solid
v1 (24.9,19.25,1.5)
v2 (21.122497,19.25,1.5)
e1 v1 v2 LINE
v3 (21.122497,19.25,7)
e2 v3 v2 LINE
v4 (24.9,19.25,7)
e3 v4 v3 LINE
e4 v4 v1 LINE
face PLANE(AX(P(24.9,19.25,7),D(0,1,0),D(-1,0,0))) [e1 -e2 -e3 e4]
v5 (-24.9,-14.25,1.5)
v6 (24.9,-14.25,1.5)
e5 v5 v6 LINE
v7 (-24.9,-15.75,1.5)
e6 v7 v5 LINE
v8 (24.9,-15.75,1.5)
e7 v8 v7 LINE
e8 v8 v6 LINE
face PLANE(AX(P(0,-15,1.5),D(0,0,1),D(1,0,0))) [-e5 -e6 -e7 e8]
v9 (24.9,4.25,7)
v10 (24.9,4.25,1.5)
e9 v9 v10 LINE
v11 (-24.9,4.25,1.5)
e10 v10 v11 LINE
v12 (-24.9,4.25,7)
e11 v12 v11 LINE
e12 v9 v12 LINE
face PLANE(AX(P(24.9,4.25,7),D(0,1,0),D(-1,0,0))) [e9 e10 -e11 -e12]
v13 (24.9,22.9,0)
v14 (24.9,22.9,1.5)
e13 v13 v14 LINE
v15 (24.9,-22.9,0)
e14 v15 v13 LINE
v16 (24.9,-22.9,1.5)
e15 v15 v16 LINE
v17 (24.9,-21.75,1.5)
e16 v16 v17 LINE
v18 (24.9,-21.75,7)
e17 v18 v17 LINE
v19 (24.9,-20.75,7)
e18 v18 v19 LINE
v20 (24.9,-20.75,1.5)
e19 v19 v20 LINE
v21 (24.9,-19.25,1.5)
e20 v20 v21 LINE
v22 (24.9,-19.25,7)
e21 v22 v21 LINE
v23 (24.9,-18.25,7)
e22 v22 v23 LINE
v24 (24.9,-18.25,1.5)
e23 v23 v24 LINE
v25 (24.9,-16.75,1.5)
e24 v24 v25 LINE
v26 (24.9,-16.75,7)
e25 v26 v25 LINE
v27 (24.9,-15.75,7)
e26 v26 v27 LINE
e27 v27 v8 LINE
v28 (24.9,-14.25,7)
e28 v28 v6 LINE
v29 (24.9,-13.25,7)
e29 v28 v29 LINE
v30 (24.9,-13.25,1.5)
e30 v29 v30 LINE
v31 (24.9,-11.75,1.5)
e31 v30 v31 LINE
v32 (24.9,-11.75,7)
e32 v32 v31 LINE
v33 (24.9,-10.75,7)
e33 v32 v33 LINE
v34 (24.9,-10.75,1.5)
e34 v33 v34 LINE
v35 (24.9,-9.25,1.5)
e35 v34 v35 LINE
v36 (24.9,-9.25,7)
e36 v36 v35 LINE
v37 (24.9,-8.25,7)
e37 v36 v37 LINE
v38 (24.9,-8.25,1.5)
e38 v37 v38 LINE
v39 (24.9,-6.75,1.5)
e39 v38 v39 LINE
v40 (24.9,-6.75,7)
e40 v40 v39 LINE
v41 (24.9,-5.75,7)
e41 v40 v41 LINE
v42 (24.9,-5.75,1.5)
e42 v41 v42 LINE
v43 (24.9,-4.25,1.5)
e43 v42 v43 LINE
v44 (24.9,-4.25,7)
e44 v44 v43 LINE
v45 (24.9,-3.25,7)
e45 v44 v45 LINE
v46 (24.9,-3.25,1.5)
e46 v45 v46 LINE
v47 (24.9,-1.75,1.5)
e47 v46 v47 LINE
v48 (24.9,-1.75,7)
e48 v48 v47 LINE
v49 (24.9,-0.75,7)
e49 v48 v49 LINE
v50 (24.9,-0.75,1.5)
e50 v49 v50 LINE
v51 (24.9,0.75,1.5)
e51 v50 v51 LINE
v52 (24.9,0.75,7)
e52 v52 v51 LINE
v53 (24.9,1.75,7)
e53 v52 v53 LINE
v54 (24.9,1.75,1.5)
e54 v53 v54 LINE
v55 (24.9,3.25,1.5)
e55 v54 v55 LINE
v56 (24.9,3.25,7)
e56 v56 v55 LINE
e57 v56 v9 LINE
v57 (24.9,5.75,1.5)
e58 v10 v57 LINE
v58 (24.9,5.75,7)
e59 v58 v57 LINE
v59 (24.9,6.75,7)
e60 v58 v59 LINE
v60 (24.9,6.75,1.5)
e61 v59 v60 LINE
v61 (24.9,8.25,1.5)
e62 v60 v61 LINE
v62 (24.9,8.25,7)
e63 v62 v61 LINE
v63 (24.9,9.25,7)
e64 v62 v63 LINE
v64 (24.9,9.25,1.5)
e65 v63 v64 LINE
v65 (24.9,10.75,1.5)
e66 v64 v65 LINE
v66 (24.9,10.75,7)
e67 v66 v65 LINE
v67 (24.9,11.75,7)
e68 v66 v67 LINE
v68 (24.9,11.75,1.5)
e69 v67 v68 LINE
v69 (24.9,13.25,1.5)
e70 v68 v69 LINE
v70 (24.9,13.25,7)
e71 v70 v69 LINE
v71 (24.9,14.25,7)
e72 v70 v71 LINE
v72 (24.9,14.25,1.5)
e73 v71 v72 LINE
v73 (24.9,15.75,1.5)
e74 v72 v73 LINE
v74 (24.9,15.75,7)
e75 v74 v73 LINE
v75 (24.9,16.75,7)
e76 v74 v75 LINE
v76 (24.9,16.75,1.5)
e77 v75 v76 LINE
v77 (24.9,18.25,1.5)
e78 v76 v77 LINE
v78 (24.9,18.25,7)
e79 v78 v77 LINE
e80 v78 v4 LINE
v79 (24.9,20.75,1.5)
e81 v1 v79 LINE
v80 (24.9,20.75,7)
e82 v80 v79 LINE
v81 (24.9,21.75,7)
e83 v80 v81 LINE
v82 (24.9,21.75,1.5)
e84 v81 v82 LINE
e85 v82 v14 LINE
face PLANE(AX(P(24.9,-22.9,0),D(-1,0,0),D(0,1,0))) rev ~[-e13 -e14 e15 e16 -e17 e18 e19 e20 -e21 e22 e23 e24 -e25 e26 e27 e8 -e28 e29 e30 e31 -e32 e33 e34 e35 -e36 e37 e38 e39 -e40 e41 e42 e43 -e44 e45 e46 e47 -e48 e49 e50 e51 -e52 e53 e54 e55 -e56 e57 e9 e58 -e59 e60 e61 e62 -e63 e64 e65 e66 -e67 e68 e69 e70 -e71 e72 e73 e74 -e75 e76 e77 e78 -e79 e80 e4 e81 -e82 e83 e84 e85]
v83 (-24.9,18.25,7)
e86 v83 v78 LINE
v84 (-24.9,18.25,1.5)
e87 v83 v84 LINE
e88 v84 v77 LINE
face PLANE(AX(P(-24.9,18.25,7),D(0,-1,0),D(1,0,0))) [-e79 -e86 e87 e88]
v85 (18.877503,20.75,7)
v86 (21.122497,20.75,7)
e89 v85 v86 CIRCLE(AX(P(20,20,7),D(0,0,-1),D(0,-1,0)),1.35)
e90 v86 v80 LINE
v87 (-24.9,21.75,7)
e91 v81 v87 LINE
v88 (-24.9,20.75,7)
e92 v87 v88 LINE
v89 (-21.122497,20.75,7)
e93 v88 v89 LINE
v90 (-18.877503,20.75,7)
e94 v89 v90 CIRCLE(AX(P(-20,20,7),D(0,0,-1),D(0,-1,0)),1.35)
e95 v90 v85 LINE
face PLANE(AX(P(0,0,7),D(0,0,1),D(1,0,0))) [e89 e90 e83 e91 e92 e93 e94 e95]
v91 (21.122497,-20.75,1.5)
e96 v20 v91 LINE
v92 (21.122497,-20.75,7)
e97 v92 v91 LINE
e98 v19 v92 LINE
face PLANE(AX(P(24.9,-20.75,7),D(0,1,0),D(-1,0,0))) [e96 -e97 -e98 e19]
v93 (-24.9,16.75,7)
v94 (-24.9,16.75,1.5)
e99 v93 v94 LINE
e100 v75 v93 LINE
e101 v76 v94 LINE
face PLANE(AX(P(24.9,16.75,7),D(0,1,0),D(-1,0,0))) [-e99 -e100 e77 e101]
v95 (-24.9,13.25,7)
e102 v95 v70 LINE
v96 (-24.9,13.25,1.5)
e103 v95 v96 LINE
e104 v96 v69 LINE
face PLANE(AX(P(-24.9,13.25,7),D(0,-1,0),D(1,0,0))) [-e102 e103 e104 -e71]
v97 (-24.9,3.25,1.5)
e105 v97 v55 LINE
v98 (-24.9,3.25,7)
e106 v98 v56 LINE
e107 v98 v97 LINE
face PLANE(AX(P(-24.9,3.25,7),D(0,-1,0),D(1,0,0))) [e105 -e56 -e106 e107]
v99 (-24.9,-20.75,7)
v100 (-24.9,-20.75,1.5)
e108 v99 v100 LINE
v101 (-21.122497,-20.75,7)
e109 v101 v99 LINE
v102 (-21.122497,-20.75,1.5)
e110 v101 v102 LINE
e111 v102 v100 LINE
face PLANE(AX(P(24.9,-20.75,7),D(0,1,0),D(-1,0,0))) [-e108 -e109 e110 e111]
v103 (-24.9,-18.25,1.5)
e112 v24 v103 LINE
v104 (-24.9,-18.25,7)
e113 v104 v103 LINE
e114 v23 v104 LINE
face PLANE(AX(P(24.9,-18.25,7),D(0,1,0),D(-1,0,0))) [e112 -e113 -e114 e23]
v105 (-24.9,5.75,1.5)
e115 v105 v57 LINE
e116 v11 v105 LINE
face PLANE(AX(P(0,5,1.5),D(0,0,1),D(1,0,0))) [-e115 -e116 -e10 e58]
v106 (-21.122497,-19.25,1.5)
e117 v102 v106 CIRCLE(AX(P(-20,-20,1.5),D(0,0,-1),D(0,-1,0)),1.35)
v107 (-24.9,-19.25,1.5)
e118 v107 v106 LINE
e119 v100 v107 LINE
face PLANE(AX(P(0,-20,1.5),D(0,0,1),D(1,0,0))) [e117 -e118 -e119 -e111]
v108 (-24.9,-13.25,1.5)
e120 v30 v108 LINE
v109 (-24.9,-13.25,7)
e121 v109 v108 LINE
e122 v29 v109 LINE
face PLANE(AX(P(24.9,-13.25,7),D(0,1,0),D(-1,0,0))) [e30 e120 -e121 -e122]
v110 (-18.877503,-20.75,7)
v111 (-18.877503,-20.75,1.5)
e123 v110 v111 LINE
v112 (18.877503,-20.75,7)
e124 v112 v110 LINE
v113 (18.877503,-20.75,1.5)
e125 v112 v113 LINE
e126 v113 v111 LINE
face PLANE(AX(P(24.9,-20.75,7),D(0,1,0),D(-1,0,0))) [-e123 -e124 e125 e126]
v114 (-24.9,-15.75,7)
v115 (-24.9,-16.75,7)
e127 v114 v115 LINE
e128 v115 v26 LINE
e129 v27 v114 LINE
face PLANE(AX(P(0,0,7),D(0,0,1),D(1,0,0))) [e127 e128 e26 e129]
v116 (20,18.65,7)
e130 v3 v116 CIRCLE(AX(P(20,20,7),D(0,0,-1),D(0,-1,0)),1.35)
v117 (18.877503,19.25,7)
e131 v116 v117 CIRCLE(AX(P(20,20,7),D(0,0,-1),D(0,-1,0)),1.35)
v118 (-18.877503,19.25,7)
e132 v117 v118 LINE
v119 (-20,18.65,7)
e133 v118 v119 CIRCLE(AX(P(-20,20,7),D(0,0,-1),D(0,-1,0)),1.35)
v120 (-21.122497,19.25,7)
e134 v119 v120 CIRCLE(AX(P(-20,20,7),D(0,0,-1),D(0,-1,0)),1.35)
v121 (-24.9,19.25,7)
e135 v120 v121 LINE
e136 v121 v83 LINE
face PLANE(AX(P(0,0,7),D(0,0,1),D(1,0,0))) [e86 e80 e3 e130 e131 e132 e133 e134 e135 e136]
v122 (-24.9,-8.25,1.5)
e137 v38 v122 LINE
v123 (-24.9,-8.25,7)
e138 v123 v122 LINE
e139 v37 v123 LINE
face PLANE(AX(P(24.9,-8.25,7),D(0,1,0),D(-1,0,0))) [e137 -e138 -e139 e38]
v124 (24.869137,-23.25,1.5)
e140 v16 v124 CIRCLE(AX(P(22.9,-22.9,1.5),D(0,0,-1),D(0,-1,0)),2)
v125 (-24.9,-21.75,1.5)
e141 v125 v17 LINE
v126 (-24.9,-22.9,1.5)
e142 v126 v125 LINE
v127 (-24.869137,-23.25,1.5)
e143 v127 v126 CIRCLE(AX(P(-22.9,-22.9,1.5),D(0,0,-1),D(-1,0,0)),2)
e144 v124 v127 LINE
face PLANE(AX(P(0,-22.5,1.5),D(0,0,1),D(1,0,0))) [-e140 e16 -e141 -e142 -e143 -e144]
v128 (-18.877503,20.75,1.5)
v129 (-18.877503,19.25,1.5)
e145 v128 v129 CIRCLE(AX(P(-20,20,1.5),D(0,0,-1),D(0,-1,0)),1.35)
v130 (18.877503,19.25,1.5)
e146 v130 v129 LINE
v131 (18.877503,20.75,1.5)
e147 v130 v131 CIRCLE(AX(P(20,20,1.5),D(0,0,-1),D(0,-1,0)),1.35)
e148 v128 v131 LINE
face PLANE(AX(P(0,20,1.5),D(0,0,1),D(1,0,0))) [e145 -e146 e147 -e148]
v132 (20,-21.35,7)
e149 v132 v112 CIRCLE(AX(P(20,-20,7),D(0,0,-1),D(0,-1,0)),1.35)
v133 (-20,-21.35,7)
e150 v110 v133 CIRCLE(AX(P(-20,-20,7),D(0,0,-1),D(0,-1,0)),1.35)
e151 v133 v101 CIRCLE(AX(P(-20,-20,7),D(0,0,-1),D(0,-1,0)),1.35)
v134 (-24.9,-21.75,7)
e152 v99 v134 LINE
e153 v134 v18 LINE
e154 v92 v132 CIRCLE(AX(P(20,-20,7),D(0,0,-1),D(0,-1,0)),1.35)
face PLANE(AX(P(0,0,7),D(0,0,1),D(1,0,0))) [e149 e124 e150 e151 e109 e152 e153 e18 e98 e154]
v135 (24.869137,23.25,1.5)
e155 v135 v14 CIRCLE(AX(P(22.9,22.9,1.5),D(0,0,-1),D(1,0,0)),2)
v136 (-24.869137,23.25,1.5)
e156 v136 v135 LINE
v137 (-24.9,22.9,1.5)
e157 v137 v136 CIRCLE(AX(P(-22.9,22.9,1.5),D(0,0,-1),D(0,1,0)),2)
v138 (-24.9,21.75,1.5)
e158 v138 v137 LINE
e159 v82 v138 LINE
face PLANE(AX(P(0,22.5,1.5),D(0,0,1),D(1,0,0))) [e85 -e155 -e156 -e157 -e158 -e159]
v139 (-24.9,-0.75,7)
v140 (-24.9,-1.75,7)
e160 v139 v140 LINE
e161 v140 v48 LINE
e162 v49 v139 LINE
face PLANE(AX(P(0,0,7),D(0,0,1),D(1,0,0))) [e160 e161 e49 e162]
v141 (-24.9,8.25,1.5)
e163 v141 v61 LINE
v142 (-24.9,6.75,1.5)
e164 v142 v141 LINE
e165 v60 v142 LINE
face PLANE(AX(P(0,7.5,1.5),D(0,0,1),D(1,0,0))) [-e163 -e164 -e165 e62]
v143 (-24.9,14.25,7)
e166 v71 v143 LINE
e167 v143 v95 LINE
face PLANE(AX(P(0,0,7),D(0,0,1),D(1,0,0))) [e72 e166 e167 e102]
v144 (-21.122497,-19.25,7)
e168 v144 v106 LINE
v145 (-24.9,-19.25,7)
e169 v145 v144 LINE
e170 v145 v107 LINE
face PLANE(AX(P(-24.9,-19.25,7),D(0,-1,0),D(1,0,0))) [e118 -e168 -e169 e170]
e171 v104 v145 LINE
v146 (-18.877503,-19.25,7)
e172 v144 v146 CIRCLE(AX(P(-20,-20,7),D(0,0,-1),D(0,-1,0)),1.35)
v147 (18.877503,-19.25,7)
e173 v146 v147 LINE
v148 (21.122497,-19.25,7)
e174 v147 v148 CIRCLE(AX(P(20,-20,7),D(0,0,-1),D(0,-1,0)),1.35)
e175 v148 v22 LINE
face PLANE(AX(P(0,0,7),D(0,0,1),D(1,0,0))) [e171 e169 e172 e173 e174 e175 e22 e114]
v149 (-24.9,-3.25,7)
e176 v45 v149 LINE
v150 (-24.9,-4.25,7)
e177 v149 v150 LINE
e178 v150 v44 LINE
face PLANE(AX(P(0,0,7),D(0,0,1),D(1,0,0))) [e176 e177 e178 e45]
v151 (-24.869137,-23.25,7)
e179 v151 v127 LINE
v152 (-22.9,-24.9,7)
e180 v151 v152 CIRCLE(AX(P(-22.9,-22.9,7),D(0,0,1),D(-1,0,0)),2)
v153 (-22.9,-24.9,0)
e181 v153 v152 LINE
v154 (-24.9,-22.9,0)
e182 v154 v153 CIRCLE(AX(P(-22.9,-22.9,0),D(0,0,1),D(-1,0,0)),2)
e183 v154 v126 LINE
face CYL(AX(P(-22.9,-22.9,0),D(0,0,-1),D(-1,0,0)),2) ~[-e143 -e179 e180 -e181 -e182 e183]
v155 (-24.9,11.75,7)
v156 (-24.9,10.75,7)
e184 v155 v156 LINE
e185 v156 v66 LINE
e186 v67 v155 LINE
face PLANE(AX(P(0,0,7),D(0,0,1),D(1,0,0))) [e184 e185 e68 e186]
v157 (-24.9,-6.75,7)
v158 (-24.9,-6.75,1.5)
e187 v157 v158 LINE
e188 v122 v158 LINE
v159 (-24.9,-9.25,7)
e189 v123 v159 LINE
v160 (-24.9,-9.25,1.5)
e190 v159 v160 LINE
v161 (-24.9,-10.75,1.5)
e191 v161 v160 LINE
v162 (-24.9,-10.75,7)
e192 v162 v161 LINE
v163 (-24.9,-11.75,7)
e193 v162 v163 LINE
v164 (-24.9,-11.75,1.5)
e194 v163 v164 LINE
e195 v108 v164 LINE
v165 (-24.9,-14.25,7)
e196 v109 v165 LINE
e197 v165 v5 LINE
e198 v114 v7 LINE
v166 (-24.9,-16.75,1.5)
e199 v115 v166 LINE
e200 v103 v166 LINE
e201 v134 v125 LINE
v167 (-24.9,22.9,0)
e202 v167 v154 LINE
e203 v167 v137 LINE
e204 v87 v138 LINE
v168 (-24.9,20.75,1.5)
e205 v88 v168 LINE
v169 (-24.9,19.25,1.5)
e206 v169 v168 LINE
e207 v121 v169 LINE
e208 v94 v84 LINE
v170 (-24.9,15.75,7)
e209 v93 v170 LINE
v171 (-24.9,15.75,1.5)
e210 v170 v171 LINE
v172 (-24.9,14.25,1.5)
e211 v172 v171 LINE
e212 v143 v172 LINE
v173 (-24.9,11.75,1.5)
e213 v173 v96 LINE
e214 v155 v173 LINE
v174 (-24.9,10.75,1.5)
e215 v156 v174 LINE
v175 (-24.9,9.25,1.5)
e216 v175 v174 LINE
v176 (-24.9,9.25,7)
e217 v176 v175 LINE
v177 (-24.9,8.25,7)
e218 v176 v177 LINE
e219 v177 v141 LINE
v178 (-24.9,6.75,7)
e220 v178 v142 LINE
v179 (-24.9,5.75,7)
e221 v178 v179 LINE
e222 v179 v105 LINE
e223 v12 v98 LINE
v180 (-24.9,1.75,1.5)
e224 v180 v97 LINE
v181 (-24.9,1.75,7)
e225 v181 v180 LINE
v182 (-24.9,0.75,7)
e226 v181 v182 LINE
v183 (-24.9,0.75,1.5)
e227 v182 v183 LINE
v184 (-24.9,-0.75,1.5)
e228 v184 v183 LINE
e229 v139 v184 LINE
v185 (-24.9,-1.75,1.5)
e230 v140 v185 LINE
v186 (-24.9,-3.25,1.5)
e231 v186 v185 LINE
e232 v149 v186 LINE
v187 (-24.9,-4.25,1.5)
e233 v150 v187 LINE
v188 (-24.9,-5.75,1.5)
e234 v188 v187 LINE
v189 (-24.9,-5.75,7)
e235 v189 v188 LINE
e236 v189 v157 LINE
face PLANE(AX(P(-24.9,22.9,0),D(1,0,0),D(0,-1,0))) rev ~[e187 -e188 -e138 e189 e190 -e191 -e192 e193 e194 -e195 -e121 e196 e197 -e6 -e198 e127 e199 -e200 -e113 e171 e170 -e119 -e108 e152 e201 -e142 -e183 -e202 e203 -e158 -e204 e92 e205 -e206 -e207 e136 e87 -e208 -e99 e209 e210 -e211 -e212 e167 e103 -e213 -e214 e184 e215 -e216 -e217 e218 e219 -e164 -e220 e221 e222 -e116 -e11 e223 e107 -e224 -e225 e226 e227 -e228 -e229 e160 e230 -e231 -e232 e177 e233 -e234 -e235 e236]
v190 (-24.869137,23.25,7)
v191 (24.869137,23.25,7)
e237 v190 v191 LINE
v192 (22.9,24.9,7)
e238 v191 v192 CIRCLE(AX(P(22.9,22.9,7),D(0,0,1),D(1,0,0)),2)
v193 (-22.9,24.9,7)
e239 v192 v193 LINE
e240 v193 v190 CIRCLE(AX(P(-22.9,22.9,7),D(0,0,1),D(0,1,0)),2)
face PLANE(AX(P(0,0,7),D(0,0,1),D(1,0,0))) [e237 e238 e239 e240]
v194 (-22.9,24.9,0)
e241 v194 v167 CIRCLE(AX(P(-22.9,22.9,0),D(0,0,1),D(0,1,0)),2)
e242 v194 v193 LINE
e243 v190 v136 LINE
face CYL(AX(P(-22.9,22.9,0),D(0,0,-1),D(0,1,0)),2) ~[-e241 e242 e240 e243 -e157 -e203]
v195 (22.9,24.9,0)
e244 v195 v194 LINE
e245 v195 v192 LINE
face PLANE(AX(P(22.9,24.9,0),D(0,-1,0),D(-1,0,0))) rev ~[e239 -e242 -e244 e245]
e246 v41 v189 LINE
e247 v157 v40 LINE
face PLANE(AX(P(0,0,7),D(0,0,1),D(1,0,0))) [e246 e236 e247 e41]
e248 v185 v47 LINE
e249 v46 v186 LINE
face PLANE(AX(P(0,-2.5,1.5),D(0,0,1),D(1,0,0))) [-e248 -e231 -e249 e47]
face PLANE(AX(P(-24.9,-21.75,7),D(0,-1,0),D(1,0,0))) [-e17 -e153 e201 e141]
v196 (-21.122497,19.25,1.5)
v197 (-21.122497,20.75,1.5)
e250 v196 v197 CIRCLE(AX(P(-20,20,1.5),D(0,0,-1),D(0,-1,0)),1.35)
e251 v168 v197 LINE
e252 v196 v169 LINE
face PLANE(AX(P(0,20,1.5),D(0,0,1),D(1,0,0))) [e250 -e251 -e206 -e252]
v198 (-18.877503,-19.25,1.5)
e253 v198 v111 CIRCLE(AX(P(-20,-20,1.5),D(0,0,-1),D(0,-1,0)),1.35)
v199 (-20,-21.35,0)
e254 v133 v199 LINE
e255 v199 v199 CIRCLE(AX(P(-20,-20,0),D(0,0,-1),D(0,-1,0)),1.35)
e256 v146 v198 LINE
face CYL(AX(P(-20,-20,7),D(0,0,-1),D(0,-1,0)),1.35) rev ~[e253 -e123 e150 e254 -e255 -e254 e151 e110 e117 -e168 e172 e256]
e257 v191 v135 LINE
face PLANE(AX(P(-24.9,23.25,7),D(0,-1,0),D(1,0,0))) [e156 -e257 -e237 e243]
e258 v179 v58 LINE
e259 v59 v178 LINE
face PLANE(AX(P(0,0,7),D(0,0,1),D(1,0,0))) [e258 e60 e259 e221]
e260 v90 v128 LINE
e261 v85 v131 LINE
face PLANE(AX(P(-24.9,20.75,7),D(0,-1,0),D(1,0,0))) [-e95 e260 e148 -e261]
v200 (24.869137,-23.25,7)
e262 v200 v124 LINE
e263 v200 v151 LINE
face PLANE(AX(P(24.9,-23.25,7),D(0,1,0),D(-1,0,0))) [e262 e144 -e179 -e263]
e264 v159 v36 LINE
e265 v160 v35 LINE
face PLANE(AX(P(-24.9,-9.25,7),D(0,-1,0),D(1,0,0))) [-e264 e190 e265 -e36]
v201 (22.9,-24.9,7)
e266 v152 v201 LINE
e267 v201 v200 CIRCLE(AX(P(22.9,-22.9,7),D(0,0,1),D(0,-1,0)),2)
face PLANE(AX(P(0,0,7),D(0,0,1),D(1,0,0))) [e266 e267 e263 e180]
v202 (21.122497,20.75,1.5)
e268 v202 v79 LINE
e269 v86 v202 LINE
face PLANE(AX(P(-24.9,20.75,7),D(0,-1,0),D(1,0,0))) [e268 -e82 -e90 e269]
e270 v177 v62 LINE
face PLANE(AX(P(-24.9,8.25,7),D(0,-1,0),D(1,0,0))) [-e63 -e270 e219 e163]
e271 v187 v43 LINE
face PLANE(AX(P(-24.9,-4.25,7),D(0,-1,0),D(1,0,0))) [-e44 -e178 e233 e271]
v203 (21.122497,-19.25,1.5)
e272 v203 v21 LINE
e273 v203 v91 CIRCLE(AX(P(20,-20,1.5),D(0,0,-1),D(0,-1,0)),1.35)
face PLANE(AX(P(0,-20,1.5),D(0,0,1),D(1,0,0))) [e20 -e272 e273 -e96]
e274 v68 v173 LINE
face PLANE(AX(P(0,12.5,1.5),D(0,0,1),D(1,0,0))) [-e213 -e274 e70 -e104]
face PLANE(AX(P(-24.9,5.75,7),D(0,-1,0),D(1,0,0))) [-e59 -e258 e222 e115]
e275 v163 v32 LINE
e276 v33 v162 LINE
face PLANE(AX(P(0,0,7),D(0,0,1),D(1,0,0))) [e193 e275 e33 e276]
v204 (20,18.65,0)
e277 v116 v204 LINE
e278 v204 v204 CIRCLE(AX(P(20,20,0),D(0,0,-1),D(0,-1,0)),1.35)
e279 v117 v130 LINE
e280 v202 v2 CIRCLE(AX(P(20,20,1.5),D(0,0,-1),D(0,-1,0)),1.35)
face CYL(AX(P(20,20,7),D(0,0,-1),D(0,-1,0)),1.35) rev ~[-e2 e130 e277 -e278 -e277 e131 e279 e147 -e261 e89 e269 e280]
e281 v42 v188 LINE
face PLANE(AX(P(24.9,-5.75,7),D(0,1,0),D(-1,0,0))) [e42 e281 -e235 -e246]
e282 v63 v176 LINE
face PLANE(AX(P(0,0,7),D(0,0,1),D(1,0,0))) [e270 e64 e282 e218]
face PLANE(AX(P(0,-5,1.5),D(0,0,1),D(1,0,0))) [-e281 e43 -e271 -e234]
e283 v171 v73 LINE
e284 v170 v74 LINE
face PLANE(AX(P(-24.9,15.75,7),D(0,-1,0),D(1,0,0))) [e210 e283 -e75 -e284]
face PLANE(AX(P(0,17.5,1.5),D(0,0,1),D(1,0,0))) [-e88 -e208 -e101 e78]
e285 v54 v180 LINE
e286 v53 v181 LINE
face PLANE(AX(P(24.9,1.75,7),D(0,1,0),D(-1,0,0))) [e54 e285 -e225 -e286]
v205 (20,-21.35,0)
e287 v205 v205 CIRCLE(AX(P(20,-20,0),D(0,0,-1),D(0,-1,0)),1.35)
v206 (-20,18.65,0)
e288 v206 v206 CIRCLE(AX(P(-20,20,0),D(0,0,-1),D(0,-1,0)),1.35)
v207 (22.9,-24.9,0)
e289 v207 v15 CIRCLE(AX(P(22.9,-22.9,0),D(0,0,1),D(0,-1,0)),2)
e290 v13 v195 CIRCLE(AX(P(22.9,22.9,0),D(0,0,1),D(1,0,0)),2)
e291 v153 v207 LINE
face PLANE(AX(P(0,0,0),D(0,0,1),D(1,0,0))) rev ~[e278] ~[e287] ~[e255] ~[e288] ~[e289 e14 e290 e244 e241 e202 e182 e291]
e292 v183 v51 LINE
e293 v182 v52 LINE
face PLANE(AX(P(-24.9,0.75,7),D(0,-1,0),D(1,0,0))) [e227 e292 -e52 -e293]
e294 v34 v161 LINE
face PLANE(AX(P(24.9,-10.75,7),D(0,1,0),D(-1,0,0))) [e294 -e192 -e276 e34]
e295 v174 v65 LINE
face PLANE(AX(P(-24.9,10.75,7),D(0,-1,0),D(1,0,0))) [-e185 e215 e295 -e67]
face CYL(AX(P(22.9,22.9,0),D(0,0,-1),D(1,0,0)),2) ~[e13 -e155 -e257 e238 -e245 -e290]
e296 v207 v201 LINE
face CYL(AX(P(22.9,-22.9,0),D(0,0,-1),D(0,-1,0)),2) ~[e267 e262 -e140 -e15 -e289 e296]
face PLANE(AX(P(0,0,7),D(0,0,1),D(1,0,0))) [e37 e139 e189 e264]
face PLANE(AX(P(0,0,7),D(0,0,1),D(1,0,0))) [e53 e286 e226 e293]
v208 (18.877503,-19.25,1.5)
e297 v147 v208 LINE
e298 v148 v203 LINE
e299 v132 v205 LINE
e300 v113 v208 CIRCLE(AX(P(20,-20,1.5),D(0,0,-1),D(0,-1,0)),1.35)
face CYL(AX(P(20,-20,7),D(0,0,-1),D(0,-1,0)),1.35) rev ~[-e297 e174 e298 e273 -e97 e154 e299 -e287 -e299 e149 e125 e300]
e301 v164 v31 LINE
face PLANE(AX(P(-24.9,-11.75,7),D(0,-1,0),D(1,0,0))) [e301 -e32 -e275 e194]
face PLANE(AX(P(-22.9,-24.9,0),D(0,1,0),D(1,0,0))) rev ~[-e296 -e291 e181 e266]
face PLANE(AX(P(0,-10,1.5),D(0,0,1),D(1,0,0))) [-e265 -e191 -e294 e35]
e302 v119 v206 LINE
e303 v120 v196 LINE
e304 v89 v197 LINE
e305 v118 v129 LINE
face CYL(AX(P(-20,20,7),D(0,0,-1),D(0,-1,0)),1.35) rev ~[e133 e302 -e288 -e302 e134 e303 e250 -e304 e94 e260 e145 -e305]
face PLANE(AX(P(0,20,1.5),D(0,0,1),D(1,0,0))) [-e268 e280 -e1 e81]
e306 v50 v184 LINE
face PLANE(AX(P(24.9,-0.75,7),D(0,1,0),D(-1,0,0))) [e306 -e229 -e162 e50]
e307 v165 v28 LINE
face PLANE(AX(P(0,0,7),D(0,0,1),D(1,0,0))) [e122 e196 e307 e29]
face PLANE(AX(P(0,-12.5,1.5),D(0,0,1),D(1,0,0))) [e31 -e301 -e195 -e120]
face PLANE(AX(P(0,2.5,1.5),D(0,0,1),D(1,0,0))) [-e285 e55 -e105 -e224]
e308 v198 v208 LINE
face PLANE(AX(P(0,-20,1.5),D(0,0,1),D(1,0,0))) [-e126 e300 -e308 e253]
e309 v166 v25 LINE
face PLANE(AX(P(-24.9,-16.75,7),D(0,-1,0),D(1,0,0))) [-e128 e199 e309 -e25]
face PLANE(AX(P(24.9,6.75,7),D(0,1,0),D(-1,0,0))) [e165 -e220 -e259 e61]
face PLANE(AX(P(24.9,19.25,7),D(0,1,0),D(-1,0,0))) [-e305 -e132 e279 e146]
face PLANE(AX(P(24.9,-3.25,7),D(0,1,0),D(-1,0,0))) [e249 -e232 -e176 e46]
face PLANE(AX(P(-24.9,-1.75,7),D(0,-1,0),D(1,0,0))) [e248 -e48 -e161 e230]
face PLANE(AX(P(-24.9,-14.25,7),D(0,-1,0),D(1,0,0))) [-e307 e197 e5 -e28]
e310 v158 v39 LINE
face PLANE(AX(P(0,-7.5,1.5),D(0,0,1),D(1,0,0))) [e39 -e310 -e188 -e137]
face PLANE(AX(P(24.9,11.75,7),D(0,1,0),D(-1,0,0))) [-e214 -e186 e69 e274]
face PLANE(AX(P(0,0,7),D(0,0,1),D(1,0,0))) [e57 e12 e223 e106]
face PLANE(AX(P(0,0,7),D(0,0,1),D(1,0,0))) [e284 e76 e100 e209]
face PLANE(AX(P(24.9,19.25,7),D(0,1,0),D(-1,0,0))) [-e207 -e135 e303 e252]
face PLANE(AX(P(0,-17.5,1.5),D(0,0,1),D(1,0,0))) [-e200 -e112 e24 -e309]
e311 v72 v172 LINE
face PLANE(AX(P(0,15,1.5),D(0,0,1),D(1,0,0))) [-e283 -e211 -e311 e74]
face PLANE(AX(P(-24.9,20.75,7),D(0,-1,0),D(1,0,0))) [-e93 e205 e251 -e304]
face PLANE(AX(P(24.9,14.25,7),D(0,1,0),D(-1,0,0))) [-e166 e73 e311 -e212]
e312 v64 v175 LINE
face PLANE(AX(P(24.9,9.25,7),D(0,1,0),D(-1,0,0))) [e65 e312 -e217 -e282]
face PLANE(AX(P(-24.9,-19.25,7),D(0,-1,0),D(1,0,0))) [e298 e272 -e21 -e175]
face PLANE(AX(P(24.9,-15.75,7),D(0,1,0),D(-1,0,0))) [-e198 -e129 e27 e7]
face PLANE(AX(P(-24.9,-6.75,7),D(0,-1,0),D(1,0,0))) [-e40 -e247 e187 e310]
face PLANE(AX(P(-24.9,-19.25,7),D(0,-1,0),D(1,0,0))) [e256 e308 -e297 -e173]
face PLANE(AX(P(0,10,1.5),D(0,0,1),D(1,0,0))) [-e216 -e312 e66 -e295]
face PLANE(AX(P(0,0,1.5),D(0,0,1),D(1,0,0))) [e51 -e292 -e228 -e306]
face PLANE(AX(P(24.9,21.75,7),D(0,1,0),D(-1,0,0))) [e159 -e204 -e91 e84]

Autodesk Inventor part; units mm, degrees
ref_plane "YZ Plane" through (0, 0, 0) normal (1, 0, 0) x (0, 1, 0)
ref_plane "XZ Plane" through (0, 0, 0) normal (0, 1, 0) x (-1, 0, 0)
ref_plane "XY Plane" through (0, 0, 0) normal (0, 0, 1) x (1, 0, 0)
ref_plane "Arbeitsebene1" through (0, 0, 0) normal (0, 0, 1) x (1, 0, 0)
sketch "Skizze1" plane through (0, 0, 0) normal (0, 0, 1) x (1, 0, 0)
  arc A0 (-22.9, 24.9) -> (-24.9, 22.9) centre (-22.9, 22.9) ccw projected
  line L0 (-24.9, 22.9) -> (-24.9, -22.9) projected
  arc A1 (-24.9, -22.9) -> (-22.9, -24.9) centre (-22.9, -22.9) ccw projected
  line L1 (-22.9, -24.9) -> (22.9, -24.9) projected
  arc A2 (22.9, -24.9) -> (24.9, -22.9) centre (22.9, -22.9) ccw projected
  line L2 (24.9, -22.9) -> (24.9, 22.9) projected
  arc A3 (24.9, 22.9) -> (22.9, 24.9) centre (22.9, 22.9) ccw projected
  line L3 (22.9, 24.9) -> (-22.9, 24.9) projected
  circle A4 centre (20, 20) radius 1.6 projected
  circle A5 centre (-20, -20) radius 1.6 projected
  circle A6 centre (20, -20) radius 1.6 projected
  circle A7 centre (-20, 20) radius 1.6 projected
  arc A8 (6.7383, -21.066) -> (8.3017, -21.066) centre (7.52, -20.62) ccw projected
  line L4 (6.7383, -21.066) -> (-6.9383, -21.066) projected
  arc A9 (-8.5017, -21.066) -> (-6.9383, -21.066) centre (-7.72, -20.62) ccw projected
  line L5 (-8.5017, -21.066) -> (-17.9, -21.066) projected
  line L6 (-17.9, -21.066) -> (-17.9, 21.066) projected
  line L7 (-17.9, 21.066) -> (17.9, 21.066) projected
  line L8 (17.9, 21.066) -> (17.9, 12) projected
  arc A10 (14.9, 9) -> (17.9, 12) centre (14.9, 12) ccw projected
  line L9 (14.5, 9) -> (14.9, 9) projected
  arc A11 (14.5, 9) -> (11.5, 6) centre (14.5, 6) ccw projected
  line L10 (11.5, -6) -> (11.5, 6) projected
  arc A12 (11.5, -6) -> (14.5, -9) centre (14.5, -6) ccw projected
  line L11 (14.9, -9) -> (14.5, -9) projected
  arc A13 (17.9, -12) -> (14.9, -9) centre (14.9, -12) ccw projected
  line L12 (17.9, -12) -> (17.9, -21.066) projected
  line L13 (17.9, -21.066) -> (8.3017, -21.066) projected
  arc A14 (13.4381, 5.6873) -> (13.3881, 5.2) centre (15.7881, 5.2) ccw projected
  line L14 (13.4381, 5.6873) -> (13.4381, 7.6) projected
  line L15 (13.4381, 7.6) -> (15.7881, 7.6) projected
  arc A15 (18.1881, 5.2) -> (15.7881, 7.6) centre (15.7881, 5.2) ccw projected
  line L16 (18.1881, 5.2) -> (18.1881, -5.2) projected
  arc A16 (15.7881, -7.6) -> (18.1881, -5.2) centre (15.7881, -5.2) ccw projected
  line L17 (15.7881, -7.6) -> (13.4381, -7.6) projected
  line L18 (13.4381, -7.6) -> (13.4381, -5.6873) projected
  arc A17 (13.3881, -5.2) -> (13.4381, -5.6873) centre (15.7881, -5.2) ccw projected
  line L19 (13.3881, -5.2) -> (13.3881, 5.2) projected
  line L20 (17.9, 21.066) -> (17.9, -21.066)
  point P0 (0, 0)
extrude "Extrusion1" add sketch "Skizze1" along normal blind 7 contours L3 A3 L2 A2 L1 A1 L0 A0 | A4 | A5 | A6 | A7 | L4 A9 L5 L6 L7 L8 A10 L9 A11 L10 A12 L11 A13 L12 L13 A8 | A13 L11 A12 L10 A11 L9 A10 L20 A15 L15 L14 A14 L19 A17 L18 L17 A16 | L20 A15 L16 A16 | A16 L17 L18 A17 L19 A14 L14 L15 A15 L20
sketch "Skizze2" plane through (0, 0, 7) normal (0, 0, 1) x (1, 0, 0)
  circle A0 centre (-20, 20) radius 1.6 projected
  circle A1 centre (20, 20) radius 1.6 projected
  circle A2 centre (20, -20) radius 1.6 projected
  circle A3 centre (-20, -20) radius 1.6 projected
  line L0 (24.9, -22.9) -> (24.9, 22.9) projected
  line L1 (-24.9, 0.75) -> (24.9, 0.75)
  line L2 (24.9, 0.75) -> (24.9, -0.75)
  line L3 (24.9, -0.75) -> (-24.9, -0.75)
  line L4 (-24.9, -0.75) -> (-24.9, 0.75)
  line L5 (-24.9, 0.75) -> (24.9, -0.75) construction
  line L6 (24.9, 0.75) -> (-24.9, -0.75) construction
  point P0 (0, 0)
  dimension "d2" = 1.5
extrude "Extrusion2" cut sketch "Skizze2" against normal blind 5.5 contours L3 L4 L1 L0
pattern_linear "Rechteckige Anordnung1" count 10 spacing 2.5 along (0, -1, 0) count 10 spacing 2.5 along (0, 1, 0) of "Extrusion2"
sketch "Skizze3" plane through (0, 0, 7) normal (0, 0, 1) x (1, 0, 0)
  circle A0 centre (-20, -20) radius 1.6 projected
  line L0 (18.8686, -21.1314) -> (18.4, -21.6) projected
  arc A1 (22.9, -19.2319) -> (19.2319, -22.9) centre (20, -20) ccw projected
  circle A2 centre (20, 20) radius 1.6 projected
  circle A3 centre (-20, 20) radius 1.6 projected
  point P0 (0, 0)
hole "Bohrung1" at (-20, 20, 7) at (20, 20, 7) at (20, -20, 7) at (-20, -20, 7) direction (0, 0, -1) diameter 2.7 end through all
properties part number "10_Cube_sampleholder"
